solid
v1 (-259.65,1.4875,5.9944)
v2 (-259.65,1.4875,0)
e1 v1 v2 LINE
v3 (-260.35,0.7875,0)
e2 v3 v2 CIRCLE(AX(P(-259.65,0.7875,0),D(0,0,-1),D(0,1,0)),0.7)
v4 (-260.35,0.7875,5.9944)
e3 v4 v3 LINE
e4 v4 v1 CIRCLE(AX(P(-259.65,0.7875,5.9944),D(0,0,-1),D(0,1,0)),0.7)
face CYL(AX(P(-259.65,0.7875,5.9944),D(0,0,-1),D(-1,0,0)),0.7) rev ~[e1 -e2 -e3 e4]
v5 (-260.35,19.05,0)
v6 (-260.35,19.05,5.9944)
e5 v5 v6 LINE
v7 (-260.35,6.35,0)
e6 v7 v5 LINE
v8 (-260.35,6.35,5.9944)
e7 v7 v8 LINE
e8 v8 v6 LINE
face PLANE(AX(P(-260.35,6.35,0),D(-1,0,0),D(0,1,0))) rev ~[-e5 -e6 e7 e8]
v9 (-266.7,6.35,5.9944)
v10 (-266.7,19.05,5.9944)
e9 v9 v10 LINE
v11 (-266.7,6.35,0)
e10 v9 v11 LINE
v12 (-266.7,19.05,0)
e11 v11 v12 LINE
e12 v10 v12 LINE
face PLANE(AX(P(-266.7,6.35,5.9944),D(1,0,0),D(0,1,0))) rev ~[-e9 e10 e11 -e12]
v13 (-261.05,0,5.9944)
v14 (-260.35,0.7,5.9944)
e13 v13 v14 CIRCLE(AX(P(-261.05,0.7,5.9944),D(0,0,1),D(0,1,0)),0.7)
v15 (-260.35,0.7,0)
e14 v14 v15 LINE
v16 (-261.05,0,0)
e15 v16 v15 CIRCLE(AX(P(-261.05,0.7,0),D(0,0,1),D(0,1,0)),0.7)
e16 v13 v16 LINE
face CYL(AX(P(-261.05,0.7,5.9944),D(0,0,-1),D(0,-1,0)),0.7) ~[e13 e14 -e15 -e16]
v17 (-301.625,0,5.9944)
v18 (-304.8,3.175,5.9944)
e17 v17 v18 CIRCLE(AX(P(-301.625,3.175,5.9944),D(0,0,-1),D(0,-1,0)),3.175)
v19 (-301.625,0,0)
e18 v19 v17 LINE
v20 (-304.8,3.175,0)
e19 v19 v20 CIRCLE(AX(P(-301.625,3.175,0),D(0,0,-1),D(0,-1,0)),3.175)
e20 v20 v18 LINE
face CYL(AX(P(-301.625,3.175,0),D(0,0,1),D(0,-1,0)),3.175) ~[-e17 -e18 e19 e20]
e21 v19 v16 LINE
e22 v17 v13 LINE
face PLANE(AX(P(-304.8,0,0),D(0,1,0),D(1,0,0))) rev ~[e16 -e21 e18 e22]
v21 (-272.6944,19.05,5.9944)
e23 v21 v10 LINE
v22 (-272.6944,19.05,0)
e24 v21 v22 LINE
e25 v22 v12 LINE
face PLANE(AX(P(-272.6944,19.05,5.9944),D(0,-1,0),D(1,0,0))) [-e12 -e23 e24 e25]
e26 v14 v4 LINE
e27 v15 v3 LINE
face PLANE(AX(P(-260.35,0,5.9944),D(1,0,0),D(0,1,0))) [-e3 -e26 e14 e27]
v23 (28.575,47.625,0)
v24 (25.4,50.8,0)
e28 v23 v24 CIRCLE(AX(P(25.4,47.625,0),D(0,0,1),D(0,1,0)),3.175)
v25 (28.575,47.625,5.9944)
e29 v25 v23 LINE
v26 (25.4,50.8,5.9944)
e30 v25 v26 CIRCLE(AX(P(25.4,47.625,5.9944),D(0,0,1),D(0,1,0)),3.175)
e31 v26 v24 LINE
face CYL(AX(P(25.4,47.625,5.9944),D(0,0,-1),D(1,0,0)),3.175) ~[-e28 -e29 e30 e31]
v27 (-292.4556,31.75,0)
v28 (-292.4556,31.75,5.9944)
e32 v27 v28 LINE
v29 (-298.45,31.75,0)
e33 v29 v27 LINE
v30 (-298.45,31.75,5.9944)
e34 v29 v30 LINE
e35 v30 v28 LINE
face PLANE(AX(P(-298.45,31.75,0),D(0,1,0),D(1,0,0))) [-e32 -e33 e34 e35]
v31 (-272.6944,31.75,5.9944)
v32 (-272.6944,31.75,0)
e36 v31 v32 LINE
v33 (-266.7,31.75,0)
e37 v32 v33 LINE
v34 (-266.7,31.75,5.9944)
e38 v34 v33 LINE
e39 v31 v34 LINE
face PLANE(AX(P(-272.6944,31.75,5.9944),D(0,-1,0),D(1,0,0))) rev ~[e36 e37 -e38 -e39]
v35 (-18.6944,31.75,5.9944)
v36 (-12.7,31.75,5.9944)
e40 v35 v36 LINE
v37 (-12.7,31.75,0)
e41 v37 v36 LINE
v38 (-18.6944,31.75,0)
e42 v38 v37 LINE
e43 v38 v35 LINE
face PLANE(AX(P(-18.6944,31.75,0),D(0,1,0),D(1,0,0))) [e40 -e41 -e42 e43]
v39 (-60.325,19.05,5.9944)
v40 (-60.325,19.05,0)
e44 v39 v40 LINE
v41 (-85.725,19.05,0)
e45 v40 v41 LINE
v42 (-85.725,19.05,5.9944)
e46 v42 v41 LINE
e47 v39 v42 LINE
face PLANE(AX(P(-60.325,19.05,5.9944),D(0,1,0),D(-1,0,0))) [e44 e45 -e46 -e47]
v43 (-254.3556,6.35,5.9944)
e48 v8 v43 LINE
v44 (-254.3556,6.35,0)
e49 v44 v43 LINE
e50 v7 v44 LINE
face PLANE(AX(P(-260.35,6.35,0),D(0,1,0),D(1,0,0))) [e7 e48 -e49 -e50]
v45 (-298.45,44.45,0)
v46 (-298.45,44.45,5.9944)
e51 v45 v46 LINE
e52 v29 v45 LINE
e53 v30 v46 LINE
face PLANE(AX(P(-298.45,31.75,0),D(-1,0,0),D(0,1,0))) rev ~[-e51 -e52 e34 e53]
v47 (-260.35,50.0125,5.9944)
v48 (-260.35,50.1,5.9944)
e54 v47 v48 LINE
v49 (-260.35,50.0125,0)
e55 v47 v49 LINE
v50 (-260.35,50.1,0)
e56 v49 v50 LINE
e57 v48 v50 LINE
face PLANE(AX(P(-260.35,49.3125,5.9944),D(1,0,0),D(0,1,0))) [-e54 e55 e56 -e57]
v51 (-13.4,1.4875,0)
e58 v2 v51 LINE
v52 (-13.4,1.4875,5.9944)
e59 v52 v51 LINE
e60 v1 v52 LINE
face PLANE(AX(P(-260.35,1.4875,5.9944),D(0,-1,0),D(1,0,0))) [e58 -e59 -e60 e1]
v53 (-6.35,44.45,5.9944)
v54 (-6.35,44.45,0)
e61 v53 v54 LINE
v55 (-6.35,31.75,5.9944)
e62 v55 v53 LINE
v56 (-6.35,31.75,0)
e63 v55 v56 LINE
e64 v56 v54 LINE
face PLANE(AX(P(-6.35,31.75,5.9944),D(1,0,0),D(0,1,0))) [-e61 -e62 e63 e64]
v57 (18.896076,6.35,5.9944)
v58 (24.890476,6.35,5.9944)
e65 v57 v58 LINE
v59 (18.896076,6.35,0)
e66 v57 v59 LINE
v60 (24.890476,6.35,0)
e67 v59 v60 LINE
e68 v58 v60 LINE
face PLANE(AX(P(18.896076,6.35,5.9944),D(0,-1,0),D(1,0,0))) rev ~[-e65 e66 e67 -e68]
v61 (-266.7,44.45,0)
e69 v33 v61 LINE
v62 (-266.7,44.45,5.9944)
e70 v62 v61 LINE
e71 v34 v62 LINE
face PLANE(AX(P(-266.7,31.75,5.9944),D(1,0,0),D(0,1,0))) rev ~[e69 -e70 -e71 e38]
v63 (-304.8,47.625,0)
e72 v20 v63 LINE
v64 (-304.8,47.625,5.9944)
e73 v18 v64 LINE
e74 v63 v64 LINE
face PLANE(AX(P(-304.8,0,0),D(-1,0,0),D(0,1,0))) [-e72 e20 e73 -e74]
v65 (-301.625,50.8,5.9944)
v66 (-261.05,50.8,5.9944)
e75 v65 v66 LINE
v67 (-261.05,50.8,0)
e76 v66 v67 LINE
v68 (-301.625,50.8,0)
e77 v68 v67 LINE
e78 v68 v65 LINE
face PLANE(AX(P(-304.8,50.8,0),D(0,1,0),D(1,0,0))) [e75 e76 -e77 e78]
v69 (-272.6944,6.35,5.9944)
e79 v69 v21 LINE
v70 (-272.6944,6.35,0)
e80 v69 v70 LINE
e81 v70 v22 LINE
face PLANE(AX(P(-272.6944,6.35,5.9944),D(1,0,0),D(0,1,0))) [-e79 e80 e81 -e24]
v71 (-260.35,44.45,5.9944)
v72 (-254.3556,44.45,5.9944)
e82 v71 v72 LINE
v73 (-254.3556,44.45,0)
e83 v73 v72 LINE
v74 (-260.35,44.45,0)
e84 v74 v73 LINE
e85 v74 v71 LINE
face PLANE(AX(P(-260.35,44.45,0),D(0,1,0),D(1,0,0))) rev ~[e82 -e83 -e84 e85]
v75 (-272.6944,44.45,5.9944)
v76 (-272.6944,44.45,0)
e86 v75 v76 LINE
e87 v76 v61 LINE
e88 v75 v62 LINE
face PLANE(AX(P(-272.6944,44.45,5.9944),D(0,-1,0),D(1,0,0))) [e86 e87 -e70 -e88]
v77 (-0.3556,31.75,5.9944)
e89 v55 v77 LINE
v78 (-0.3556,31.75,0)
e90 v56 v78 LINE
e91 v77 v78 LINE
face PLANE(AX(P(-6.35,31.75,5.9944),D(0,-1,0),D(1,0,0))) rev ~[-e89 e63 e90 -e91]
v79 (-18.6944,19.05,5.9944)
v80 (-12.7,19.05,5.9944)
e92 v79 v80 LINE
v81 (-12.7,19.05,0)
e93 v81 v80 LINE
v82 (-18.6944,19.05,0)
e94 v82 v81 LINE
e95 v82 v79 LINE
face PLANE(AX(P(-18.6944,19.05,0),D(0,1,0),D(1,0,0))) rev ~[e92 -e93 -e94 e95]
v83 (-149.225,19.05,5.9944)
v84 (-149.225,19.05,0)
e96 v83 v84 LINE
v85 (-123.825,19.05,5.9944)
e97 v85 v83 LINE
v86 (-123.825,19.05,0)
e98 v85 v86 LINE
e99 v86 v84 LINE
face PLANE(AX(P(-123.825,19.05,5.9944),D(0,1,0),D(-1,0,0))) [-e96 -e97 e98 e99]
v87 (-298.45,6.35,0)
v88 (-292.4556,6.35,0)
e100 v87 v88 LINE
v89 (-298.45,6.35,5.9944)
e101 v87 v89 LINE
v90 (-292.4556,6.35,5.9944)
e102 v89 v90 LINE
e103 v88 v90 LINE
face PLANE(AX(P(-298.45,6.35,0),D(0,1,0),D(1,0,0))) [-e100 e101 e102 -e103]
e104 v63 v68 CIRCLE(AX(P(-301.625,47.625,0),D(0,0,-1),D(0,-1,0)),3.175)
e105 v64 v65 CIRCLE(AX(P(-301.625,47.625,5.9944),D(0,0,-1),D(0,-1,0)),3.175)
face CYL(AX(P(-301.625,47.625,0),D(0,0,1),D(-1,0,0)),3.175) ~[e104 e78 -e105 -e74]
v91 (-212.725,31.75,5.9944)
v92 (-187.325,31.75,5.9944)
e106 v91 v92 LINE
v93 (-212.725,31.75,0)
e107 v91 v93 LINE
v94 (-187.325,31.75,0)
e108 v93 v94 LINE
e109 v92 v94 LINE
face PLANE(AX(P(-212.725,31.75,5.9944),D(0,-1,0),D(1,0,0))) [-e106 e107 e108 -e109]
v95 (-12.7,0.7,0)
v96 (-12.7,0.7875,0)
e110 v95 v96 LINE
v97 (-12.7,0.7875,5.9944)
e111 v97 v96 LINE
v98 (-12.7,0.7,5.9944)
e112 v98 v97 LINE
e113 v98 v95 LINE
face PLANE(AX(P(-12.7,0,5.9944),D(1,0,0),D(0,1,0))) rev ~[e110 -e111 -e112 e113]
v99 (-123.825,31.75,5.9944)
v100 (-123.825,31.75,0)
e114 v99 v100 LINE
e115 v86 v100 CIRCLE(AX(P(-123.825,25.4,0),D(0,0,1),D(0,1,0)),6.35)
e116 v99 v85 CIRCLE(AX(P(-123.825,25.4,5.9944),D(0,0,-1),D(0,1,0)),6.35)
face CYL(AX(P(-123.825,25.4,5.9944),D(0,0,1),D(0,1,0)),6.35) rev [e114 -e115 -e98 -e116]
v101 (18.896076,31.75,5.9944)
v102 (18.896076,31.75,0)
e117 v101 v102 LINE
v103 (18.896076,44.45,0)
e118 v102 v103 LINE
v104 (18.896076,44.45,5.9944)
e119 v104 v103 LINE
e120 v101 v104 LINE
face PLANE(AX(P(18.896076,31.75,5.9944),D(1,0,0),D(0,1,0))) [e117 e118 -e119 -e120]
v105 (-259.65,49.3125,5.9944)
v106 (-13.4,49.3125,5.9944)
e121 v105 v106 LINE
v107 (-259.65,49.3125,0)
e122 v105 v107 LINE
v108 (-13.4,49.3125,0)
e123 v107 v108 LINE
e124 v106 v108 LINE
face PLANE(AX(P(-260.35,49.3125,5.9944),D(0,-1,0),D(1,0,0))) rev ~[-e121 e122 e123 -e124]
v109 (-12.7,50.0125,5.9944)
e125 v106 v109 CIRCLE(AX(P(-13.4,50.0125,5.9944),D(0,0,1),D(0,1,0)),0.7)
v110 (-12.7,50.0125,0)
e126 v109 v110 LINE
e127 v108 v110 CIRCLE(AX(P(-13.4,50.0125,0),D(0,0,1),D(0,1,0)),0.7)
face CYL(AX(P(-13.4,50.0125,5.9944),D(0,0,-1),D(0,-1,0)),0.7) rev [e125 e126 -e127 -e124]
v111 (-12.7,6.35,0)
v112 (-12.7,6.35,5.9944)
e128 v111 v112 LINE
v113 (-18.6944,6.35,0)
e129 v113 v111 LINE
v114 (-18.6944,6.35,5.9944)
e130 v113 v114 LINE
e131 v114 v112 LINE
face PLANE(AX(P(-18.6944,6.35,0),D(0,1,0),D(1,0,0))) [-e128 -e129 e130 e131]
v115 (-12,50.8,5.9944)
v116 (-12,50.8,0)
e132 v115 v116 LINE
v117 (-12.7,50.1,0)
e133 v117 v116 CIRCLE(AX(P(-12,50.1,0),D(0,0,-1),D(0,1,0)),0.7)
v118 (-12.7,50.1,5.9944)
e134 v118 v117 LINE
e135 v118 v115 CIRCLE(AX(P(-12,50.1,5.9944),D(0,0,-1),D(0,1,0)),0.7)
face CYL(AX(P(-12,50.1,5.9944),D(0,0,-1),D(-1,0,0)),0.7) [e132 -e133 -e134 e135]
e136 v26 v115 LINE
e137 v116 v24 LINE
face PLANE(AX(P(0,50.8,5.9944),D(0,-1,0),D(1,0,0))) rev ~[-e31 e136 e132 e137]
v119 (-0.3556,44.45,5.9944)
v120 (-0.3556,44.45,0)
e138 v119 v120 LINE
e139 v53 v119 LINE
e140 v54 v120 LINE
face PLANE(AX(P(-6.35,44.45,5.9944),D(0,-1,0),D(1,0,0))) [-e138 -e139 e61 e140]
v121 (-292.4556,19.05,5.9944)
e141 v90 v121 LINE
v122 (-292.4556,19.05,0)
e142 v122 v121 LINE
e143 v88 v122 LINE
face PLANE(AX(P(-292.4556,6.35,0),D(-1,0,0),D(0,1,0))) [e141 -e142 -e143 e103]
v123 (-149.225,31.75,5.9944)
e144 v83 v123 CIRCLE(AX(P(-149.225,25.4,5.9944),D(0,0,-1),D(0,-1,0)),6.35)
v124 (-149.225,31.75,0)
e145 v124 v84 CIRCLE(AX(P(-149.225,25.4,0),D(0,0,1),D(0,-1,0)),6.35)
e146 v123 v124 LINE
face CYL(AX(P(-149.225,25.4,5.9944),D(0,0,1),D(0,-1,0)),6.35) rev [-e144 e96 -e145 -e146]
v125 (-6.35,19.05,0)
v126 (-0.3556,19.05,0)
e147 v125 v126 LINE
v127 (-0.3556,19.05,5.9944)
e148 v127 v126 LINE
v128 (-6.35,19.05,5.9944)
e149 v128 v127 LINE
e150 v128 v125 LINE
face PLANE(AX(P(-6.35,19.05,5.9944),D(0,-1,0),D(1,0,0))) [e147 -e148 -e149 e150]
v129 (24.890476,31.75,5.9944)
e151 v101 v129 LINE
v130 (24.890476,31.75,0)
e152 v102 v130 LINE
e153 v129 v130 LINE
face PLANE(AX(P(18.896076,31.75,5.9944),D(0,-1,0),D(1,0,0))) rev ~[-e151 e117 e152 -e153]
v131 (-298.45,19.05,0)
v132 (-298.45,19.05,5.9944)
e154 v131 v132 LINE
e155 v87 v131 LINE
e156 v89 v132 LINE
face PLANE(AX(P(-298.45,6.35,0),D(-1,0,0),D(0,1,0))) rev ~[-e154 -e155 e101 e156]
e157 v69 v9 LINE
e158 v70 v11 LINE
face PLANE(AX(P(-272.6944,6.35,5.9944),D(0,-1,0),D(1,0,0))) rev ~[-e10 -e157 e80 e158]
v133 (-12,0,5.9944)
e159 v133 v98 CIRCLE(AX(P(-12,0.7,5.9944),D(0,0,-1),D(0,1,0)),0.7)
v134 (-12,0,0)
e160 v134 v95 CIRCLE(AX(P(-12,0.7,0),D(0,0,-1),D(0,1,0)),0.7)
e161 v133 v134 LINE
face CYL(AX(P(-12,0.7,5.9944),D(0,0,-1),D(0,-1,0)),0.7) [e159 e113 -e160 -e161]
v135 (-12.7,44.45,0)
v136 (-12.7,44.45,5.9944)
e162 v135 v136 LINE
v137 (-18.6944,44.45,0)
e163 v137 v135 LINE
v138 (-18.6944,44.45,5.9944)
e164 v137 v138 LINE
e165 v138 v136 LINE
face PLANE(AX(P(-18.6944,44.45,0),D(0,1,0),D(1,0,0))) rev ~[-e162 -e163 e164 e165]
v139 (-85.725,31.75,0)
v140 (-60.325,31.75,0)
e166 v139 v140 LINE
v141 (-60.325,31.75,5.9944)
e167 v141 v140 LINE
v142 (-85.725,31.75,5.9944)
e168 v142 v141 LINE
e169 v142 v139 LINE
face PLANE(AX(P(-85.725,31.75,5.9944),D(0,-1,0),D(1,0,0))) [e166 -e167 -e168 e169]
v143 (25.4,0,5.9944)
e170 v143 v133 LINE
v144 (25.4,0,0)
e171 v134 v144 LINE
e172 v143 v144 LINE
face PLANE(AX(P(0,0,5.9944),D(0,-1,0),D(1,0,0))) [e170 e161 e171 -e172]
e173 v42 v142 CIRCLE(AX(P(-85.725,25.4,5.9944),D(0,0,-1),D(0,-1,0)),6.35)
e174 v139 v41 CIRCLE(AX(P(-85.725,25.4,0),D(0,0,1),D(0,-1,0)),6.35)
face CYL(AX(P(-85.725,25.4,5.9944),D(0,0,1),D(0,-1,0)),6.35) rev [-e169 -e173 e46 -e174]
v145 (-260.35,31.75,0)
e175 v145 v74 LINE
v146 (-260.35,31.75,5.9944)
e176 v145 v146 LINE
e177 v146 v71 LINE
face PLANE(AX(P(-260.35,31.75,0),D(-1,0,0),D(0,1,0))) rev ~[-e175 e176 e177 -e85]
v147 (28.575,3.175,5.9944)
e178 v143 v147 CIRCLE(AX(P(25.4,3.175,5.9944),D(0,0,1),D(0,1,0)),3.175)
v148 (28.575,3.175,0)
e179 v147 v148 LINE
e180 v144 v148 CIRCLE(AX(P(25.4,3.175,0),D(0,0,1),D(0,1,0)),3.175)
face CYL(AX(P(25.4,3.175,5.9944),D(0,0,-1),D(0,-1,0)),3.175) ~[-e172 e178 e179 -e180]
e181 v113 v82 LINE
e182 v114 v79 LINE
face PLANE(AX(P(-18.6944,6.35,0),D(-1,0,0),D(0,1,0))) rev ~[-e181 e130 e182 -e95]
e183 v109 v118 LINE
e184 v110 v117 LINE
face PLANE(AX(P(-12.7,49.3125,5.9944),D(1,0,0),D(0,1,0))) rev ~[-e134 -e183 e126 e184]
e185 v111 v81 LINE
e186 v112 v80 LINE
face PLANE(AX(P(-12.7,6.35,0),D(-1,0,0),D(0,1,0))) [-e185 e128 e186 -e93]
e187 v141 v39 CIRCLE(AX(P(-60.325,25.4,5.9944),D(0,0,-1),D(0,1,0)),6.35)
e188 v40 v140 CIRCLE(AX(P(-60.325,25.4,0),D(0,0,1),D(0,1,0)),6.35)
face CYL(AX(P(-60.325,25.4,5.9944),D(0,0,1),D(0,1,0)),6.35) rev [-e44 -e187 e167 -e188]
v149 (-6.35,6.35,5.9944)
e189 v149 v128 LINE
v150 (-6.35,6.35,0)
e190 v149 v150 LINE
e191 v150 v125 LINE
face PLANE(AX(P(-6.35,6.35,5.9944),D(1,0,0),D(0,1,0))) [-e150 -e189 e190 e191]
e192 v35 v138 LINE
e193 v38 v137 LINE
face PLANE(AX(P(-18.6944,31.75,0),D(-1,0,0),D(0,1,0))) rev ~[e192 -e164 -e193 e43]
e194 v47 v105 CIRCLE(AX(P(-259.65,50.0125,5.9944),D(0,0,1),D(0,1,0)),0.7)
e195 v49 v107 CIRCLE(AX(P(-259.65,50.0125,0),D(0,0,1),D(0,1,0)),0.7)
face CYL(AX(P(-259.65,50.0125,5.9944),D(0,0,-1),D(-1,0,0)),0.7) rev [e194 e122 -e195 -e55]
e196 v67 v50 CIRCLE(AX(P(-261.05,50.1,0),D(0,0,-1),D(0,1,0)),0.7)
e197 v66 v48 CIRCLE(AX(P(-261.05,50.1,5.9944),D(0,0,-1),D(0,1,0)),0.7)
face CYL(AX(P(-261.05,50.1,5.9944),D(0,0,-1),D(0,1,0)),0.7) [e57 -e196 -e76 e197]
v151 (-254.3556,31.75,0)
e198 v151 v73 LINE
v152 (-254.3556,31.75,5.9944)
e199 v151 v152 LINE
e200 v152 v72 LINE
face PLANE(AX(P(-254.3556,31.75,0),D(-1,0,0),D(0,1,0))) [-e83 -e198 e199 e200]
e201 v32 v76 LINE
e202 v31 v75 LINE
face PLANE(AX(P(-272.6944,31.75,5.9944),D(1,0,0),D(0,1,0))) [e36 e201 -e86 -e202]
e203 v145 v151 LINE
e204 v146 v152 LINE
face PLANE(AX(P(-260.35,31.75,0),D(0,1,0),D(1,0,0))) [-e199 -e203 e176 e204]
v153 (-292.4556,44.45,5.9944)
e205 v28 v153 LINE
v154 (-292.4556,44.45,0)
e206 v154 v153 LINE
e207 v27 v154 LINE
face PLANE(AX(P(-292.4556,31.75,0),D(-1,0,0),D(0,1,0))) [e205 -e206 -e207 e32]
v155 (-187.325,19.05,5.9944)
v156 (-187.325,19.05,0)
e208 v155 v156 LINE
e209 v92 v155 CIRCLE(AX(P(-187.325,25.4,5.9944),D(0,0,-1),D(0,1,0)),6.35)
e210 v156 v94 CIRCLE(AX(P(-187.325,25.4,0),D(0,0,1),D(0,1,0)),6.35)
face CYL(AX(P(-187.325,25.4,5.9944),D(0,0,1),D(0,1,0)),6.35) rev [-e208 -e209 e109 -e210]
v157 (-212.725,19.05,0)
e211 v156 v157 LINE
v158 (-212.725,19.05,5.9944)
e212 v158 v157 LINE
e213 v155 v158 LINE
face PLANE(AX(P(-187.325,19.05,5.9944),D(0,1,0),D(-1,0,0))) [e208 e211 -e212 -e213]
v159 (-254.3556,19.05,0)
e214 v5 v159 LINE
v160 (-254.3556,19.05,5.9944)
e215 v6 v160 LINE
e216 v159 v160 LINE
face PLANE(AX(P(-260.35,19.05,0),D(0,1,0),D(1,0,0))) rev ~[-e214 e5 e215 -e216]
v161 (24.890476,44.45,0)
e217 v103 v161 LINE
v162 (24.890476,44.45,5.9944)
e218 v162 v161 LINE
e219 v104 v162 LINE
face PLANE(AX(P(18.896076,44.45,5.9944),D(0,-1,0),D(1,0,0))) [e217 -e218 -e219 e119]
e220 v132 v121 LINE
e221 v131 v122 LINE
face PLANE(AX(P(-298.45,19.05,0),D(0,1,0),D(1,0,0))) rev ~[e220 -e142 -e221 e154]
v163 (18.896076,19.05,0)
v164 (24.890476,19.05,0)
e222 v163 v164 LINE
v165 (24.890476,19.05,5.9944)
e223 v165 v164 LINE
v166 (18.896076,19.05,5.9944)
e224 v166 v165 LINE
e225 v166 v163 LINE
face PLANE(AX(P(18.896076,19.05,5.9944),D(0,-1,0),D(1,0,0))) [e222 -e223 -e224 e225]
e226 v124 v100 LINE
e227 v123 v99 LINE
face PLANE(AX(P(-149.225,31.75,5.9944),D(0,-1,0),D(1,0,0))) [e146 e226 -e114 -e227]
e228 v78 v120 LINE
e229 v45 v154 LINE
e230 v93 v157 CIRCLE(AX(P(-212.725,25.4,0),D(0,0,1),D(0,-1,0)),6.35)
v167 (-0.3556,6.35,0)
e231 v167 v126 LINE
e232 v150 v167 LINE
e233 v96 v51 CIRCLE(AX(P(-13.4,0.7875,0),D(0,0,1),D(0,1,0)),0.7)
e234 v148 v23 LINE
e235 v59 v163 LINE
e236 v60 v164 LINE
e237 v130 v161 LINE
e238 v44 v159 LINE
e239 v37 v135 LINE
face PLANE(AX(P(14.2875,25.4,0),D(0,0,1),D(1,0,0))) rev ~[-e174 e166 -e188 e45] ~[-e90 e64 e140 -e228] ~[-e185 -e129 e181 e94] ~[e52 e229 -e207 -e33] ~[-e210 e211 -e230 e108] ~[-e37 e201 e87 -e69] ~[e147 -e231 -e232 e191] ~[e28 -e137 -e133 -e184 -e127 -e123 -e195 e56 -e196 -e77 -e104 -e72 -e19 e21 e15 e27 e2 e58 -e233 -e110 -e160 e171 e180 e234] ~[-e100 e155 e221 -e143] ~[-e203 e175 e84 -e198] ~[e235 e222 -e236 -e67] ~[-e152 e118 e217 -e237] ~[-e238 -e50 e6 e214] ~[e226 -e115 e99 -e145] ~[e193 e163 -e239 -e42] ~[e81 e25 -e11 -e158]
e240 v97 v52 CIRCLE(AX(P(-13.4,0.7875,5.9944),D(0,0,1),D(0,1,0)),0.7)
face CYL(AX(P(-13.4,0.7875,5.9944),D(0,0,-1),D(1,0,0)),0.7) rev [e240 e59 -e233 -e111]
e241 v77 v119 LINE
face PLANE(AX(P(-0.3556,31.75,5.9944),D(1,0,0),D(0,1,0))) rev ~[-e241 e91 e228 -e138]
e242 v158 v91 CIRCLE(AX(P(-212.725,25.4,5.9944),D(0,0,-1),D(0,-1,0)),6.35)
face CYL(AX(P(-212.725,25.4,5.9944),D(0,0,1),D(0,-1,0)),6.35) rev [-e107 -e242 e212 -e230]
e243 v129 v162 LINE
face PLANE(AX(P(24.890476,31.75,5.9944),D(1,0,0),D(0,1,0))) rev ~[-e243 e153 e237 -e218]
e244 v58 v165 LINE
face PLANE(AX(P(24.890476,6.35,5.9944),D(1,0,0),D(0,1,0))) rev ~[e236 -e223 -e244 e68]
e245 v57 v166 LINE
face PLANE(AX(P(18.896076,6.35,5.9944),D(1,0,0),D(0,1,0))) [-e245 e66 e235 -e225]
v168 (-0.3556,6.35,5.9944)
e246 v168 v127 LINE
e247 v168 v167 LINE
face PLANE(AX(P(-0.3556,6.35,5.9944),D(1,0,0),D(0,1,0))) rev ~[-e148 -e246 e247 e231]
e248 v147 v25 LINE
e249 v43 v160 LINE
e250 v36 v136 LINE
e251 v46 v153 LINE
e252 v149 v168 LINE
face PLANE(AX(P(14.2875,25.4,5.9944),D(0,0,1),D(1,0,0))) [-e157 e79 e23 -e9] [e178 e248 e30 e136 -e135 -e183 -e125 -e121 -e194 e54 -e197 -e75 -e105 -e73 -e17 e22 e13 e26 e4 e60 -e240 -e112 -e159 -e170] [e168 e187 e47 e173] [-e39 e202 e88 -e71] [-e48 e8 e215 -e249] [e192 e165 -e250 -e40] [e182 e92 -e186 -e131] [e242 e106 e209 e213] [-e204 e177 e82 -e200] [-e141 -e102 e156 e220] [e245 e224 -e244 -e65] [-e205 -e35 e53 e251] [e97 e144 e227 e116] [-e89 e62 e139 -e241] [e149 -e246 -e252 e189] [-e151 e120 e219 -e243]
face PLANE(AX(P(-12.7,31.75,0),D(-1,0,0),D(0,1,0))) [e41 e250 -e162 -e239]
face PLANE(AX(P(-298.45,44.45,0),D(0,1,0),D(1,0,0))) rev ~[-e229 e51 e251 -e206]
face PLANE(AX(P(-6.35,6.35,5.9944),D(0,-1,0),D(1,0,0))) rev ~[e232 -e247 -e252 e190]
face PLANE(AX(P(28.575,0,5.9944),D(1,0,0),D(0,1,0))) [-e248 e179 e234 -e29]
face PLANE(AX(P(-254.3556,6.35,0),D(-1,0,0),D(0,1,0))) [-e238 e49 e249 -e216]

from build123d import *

# Parameters (mm, degrees)
SKETCH1_W           = 304.8
SKETCH1_H           = 50.8
SKETCH1_W_2         = 5.9944
SKETCH1_H_2         = 12.7
BOSS_EXTRUDE1_DEPTH = 5.9944
SKETCH3_W           = 247.65
SKETCH3_H           = 1.4875
CUT_EXTRUDE3_DEPTH  = 6.9944
FILLET4_R           = 0.7
SKETCH4_W           = 28.575
SKETCH4_H           = 50.8
BOSS_EXTRUDE2_DEPTH = 5.9944
SKETCH5_W           = 5.9944
SKETCH5_H           = 12.7
CUT_EXTRUDE4_DEPTH  = 6.9944
FILLET5_R           = 3.175
CUT_EXTRUDE5_DEPTH  = 6.9944
SKETCH7_W           = 5.9944
SKETCH7_H           = 12.7
CUT_EXTRUDE6_DEPTH  = 6.9944


with BuildPart() as part:
    # Sketch1 → Boss-Extrude1 (new body)
    with BuildSketch(Plane.XY):
        with Locations((-152.4, 25.4)):
            Rectangle(SKETCH1_W, SKETCH1_H)
        with Locations((-15.6972, 12.7)):
            Rectangle(SKETCH1_W_2, SKETCH1_H_2, mode=Mode.SUBTRACT)
        with Locations((-15.6972, 38.1)):
            Rectangle(SKETCH1_W_2, SKETCH1_H_2, mode=Mode.SUBTRACT)
        with Locations((-257.3528, 38.1)):
            Rectangle(SKETCH1_W_2, SKETCH1_H_2, mode=Mode.SUBTRACT)
        with Locations((-257.3528, 12.7)):
            Rectangle(SKETCH1_W_2, SKETCH1_H_2, mode=Mode.SUBTRACT)
        with Locations((-295.4528, 12.7)):
            Rectangle(SKETCH1_W_2, SKETCH1_H_2, mode=Mode.SUBTRACT)
        with Locations((-295.4528, 38.1)):
            Rectangle(SKETCH1_W_2, SKETCH1_H_2, mode=Mode.SUBTRACT)
    extrude(amount=BOSS_EXTRUDE1_DEPTH)

    # Sketch3 → Cut-Extrude3 (cut, through all)
    with BuildSketch(Plane.XY.offset(5.9944)):
        with Locations((-136.525, 50.05625)):
            Rectangle(SKETCH3_W, SKETCH3_H)
        with Locations((-136.525, 0.74375)):
            Rectangle(SKETCH3_W, SKETCH3_H)
    extrude(amount=-CUT_EXTRUDE3_DEPTH, mode=Mode.SUBTRACT)

    # Fillet4
    fillet4_edges = [part.edges().sort_by_distance(p)[0] for p in [
        (-260.35, 49.3125, 2.9972),
        (-260.35, 50.8, 2.9972),
        (-12.7, 50.8, 2.9972),
        (-12.7, 49.3125, 2.9972),
        (-12.7, 0, 2.9972),
        (-260.35, 0, 2.9972),
        (-260.35, 1.4875, 2.9972),
        (-12.7, 1.4875, 2.9972),
    ]]
    fillet(fillet4_edges, radius=FILLET4_R)

    # Sketch4 → Boss-Extrude2 (add)
    with BuildSketch(Plane.XY.offset(5.9944)):
        with Locations((14.2875, 25.4)):
            Rectangle(SKETCH4_W, SKETCH4_H)
    extrude(amount=-BOSS_EXTRUDE2_DEPTH)

    # Sketch5 → Cut-Extrude4 (cut, through all)
    with BuildSketch(Plane.XY.offset(5.9944)):
        with Locations((21.893276, 38.1)):
            Rectangle(SKETCH5_W, SKETCH5_H)
        with Locations((21.893276, 12.7)):
            Rectangle(SKETCH5_W, SKETCH5_H)
    extrude(amount=-CUT_EXTRUDE4_DEPTH, mode=Mode.SUBTRACT)

    # Fillet5
    fillet5_edges = [part.edges().sort_by_distance(p)[0] for p in [
        (28.575, 50.8, 2.9972),
        (28.575, 0, 2.9972),
        (-304.8, 0, 2.9972),
        (-304.8, 50.8, 2.9972),
    ]]
    fillet(fillet5_edges, radius=FILLET5_R)

    # Sketch6 → Cut-Extrude5 (cut, through all)
    with BuildSketch(Plane.XY.offset(5.9944)):
        with BuildLine():
            Line((-123.825, 19.05), (-149.225, 19.05))
            ThreePointArc((-149.225, 19.05), (-155.575, 25.4), (-149.225, 31.75))
            Line((-149.225, 31.75), (-123.825, 31.75))
            ThreePointArc((-123.825, 31.75), (-117.475, 25.4), (-123.825, 19.05))
        make_face()
        with BuildLine():
            Line((-60.325, 19.05), (-85.725, 19.05))
            ThreePointArc((-85.725, 19.05), (-92.075, 25.4), (-85.725, 31.75))
            Line((-85.725, 31.75), (-60.325, 31.75))
            ThreePointArc((-60.325, 31.75), (-53.975, 25.4), (-60.325, 19.05))
        make_face()
        with BuildLine():
            Line((-187.325, 19.05), (-212.725, 19.05))
            ThreePointArc((-212.725, 19.05), (-219.075, 25.4), (-212.725, 31.75))
            Line((-212.725, 31.75), (-187.325, 31.75))
            ThreePointArc((-187.325, 31.75), (-180.975, 25.4), (-187.325, 19.05))
        make_face()
    extrude(amount=-CUT_EXTRUDE5_DEPTH, mode=Mode.SUBTRACT)

    # Sketch7 → Cut-Extrude6 (cut, through all)
    with BuildSketch(Plane.XY.offset(5.9944)):
        with Locations((-269.6972, 38.1)):
            Rectangle(SKETCH7_W, SKETCH7_H)
        with Locations((-3.3528, 38.1)):
            Rectangle(SKETCH7_W, SKETCH7_H)
        with Locations((-269.6972, 12.7)):
            Rectangle(SKETCH7_W, SKETCH7_H)
        with Locations((-3.3528, 12.7)):
            Rectangle(SKETCH7_W, SKETCH7_H)
    extrude(amount=-CUT_EXTRUDE6_DEPTH, mode=Mode.SUBTRACT)


solid = part.part
